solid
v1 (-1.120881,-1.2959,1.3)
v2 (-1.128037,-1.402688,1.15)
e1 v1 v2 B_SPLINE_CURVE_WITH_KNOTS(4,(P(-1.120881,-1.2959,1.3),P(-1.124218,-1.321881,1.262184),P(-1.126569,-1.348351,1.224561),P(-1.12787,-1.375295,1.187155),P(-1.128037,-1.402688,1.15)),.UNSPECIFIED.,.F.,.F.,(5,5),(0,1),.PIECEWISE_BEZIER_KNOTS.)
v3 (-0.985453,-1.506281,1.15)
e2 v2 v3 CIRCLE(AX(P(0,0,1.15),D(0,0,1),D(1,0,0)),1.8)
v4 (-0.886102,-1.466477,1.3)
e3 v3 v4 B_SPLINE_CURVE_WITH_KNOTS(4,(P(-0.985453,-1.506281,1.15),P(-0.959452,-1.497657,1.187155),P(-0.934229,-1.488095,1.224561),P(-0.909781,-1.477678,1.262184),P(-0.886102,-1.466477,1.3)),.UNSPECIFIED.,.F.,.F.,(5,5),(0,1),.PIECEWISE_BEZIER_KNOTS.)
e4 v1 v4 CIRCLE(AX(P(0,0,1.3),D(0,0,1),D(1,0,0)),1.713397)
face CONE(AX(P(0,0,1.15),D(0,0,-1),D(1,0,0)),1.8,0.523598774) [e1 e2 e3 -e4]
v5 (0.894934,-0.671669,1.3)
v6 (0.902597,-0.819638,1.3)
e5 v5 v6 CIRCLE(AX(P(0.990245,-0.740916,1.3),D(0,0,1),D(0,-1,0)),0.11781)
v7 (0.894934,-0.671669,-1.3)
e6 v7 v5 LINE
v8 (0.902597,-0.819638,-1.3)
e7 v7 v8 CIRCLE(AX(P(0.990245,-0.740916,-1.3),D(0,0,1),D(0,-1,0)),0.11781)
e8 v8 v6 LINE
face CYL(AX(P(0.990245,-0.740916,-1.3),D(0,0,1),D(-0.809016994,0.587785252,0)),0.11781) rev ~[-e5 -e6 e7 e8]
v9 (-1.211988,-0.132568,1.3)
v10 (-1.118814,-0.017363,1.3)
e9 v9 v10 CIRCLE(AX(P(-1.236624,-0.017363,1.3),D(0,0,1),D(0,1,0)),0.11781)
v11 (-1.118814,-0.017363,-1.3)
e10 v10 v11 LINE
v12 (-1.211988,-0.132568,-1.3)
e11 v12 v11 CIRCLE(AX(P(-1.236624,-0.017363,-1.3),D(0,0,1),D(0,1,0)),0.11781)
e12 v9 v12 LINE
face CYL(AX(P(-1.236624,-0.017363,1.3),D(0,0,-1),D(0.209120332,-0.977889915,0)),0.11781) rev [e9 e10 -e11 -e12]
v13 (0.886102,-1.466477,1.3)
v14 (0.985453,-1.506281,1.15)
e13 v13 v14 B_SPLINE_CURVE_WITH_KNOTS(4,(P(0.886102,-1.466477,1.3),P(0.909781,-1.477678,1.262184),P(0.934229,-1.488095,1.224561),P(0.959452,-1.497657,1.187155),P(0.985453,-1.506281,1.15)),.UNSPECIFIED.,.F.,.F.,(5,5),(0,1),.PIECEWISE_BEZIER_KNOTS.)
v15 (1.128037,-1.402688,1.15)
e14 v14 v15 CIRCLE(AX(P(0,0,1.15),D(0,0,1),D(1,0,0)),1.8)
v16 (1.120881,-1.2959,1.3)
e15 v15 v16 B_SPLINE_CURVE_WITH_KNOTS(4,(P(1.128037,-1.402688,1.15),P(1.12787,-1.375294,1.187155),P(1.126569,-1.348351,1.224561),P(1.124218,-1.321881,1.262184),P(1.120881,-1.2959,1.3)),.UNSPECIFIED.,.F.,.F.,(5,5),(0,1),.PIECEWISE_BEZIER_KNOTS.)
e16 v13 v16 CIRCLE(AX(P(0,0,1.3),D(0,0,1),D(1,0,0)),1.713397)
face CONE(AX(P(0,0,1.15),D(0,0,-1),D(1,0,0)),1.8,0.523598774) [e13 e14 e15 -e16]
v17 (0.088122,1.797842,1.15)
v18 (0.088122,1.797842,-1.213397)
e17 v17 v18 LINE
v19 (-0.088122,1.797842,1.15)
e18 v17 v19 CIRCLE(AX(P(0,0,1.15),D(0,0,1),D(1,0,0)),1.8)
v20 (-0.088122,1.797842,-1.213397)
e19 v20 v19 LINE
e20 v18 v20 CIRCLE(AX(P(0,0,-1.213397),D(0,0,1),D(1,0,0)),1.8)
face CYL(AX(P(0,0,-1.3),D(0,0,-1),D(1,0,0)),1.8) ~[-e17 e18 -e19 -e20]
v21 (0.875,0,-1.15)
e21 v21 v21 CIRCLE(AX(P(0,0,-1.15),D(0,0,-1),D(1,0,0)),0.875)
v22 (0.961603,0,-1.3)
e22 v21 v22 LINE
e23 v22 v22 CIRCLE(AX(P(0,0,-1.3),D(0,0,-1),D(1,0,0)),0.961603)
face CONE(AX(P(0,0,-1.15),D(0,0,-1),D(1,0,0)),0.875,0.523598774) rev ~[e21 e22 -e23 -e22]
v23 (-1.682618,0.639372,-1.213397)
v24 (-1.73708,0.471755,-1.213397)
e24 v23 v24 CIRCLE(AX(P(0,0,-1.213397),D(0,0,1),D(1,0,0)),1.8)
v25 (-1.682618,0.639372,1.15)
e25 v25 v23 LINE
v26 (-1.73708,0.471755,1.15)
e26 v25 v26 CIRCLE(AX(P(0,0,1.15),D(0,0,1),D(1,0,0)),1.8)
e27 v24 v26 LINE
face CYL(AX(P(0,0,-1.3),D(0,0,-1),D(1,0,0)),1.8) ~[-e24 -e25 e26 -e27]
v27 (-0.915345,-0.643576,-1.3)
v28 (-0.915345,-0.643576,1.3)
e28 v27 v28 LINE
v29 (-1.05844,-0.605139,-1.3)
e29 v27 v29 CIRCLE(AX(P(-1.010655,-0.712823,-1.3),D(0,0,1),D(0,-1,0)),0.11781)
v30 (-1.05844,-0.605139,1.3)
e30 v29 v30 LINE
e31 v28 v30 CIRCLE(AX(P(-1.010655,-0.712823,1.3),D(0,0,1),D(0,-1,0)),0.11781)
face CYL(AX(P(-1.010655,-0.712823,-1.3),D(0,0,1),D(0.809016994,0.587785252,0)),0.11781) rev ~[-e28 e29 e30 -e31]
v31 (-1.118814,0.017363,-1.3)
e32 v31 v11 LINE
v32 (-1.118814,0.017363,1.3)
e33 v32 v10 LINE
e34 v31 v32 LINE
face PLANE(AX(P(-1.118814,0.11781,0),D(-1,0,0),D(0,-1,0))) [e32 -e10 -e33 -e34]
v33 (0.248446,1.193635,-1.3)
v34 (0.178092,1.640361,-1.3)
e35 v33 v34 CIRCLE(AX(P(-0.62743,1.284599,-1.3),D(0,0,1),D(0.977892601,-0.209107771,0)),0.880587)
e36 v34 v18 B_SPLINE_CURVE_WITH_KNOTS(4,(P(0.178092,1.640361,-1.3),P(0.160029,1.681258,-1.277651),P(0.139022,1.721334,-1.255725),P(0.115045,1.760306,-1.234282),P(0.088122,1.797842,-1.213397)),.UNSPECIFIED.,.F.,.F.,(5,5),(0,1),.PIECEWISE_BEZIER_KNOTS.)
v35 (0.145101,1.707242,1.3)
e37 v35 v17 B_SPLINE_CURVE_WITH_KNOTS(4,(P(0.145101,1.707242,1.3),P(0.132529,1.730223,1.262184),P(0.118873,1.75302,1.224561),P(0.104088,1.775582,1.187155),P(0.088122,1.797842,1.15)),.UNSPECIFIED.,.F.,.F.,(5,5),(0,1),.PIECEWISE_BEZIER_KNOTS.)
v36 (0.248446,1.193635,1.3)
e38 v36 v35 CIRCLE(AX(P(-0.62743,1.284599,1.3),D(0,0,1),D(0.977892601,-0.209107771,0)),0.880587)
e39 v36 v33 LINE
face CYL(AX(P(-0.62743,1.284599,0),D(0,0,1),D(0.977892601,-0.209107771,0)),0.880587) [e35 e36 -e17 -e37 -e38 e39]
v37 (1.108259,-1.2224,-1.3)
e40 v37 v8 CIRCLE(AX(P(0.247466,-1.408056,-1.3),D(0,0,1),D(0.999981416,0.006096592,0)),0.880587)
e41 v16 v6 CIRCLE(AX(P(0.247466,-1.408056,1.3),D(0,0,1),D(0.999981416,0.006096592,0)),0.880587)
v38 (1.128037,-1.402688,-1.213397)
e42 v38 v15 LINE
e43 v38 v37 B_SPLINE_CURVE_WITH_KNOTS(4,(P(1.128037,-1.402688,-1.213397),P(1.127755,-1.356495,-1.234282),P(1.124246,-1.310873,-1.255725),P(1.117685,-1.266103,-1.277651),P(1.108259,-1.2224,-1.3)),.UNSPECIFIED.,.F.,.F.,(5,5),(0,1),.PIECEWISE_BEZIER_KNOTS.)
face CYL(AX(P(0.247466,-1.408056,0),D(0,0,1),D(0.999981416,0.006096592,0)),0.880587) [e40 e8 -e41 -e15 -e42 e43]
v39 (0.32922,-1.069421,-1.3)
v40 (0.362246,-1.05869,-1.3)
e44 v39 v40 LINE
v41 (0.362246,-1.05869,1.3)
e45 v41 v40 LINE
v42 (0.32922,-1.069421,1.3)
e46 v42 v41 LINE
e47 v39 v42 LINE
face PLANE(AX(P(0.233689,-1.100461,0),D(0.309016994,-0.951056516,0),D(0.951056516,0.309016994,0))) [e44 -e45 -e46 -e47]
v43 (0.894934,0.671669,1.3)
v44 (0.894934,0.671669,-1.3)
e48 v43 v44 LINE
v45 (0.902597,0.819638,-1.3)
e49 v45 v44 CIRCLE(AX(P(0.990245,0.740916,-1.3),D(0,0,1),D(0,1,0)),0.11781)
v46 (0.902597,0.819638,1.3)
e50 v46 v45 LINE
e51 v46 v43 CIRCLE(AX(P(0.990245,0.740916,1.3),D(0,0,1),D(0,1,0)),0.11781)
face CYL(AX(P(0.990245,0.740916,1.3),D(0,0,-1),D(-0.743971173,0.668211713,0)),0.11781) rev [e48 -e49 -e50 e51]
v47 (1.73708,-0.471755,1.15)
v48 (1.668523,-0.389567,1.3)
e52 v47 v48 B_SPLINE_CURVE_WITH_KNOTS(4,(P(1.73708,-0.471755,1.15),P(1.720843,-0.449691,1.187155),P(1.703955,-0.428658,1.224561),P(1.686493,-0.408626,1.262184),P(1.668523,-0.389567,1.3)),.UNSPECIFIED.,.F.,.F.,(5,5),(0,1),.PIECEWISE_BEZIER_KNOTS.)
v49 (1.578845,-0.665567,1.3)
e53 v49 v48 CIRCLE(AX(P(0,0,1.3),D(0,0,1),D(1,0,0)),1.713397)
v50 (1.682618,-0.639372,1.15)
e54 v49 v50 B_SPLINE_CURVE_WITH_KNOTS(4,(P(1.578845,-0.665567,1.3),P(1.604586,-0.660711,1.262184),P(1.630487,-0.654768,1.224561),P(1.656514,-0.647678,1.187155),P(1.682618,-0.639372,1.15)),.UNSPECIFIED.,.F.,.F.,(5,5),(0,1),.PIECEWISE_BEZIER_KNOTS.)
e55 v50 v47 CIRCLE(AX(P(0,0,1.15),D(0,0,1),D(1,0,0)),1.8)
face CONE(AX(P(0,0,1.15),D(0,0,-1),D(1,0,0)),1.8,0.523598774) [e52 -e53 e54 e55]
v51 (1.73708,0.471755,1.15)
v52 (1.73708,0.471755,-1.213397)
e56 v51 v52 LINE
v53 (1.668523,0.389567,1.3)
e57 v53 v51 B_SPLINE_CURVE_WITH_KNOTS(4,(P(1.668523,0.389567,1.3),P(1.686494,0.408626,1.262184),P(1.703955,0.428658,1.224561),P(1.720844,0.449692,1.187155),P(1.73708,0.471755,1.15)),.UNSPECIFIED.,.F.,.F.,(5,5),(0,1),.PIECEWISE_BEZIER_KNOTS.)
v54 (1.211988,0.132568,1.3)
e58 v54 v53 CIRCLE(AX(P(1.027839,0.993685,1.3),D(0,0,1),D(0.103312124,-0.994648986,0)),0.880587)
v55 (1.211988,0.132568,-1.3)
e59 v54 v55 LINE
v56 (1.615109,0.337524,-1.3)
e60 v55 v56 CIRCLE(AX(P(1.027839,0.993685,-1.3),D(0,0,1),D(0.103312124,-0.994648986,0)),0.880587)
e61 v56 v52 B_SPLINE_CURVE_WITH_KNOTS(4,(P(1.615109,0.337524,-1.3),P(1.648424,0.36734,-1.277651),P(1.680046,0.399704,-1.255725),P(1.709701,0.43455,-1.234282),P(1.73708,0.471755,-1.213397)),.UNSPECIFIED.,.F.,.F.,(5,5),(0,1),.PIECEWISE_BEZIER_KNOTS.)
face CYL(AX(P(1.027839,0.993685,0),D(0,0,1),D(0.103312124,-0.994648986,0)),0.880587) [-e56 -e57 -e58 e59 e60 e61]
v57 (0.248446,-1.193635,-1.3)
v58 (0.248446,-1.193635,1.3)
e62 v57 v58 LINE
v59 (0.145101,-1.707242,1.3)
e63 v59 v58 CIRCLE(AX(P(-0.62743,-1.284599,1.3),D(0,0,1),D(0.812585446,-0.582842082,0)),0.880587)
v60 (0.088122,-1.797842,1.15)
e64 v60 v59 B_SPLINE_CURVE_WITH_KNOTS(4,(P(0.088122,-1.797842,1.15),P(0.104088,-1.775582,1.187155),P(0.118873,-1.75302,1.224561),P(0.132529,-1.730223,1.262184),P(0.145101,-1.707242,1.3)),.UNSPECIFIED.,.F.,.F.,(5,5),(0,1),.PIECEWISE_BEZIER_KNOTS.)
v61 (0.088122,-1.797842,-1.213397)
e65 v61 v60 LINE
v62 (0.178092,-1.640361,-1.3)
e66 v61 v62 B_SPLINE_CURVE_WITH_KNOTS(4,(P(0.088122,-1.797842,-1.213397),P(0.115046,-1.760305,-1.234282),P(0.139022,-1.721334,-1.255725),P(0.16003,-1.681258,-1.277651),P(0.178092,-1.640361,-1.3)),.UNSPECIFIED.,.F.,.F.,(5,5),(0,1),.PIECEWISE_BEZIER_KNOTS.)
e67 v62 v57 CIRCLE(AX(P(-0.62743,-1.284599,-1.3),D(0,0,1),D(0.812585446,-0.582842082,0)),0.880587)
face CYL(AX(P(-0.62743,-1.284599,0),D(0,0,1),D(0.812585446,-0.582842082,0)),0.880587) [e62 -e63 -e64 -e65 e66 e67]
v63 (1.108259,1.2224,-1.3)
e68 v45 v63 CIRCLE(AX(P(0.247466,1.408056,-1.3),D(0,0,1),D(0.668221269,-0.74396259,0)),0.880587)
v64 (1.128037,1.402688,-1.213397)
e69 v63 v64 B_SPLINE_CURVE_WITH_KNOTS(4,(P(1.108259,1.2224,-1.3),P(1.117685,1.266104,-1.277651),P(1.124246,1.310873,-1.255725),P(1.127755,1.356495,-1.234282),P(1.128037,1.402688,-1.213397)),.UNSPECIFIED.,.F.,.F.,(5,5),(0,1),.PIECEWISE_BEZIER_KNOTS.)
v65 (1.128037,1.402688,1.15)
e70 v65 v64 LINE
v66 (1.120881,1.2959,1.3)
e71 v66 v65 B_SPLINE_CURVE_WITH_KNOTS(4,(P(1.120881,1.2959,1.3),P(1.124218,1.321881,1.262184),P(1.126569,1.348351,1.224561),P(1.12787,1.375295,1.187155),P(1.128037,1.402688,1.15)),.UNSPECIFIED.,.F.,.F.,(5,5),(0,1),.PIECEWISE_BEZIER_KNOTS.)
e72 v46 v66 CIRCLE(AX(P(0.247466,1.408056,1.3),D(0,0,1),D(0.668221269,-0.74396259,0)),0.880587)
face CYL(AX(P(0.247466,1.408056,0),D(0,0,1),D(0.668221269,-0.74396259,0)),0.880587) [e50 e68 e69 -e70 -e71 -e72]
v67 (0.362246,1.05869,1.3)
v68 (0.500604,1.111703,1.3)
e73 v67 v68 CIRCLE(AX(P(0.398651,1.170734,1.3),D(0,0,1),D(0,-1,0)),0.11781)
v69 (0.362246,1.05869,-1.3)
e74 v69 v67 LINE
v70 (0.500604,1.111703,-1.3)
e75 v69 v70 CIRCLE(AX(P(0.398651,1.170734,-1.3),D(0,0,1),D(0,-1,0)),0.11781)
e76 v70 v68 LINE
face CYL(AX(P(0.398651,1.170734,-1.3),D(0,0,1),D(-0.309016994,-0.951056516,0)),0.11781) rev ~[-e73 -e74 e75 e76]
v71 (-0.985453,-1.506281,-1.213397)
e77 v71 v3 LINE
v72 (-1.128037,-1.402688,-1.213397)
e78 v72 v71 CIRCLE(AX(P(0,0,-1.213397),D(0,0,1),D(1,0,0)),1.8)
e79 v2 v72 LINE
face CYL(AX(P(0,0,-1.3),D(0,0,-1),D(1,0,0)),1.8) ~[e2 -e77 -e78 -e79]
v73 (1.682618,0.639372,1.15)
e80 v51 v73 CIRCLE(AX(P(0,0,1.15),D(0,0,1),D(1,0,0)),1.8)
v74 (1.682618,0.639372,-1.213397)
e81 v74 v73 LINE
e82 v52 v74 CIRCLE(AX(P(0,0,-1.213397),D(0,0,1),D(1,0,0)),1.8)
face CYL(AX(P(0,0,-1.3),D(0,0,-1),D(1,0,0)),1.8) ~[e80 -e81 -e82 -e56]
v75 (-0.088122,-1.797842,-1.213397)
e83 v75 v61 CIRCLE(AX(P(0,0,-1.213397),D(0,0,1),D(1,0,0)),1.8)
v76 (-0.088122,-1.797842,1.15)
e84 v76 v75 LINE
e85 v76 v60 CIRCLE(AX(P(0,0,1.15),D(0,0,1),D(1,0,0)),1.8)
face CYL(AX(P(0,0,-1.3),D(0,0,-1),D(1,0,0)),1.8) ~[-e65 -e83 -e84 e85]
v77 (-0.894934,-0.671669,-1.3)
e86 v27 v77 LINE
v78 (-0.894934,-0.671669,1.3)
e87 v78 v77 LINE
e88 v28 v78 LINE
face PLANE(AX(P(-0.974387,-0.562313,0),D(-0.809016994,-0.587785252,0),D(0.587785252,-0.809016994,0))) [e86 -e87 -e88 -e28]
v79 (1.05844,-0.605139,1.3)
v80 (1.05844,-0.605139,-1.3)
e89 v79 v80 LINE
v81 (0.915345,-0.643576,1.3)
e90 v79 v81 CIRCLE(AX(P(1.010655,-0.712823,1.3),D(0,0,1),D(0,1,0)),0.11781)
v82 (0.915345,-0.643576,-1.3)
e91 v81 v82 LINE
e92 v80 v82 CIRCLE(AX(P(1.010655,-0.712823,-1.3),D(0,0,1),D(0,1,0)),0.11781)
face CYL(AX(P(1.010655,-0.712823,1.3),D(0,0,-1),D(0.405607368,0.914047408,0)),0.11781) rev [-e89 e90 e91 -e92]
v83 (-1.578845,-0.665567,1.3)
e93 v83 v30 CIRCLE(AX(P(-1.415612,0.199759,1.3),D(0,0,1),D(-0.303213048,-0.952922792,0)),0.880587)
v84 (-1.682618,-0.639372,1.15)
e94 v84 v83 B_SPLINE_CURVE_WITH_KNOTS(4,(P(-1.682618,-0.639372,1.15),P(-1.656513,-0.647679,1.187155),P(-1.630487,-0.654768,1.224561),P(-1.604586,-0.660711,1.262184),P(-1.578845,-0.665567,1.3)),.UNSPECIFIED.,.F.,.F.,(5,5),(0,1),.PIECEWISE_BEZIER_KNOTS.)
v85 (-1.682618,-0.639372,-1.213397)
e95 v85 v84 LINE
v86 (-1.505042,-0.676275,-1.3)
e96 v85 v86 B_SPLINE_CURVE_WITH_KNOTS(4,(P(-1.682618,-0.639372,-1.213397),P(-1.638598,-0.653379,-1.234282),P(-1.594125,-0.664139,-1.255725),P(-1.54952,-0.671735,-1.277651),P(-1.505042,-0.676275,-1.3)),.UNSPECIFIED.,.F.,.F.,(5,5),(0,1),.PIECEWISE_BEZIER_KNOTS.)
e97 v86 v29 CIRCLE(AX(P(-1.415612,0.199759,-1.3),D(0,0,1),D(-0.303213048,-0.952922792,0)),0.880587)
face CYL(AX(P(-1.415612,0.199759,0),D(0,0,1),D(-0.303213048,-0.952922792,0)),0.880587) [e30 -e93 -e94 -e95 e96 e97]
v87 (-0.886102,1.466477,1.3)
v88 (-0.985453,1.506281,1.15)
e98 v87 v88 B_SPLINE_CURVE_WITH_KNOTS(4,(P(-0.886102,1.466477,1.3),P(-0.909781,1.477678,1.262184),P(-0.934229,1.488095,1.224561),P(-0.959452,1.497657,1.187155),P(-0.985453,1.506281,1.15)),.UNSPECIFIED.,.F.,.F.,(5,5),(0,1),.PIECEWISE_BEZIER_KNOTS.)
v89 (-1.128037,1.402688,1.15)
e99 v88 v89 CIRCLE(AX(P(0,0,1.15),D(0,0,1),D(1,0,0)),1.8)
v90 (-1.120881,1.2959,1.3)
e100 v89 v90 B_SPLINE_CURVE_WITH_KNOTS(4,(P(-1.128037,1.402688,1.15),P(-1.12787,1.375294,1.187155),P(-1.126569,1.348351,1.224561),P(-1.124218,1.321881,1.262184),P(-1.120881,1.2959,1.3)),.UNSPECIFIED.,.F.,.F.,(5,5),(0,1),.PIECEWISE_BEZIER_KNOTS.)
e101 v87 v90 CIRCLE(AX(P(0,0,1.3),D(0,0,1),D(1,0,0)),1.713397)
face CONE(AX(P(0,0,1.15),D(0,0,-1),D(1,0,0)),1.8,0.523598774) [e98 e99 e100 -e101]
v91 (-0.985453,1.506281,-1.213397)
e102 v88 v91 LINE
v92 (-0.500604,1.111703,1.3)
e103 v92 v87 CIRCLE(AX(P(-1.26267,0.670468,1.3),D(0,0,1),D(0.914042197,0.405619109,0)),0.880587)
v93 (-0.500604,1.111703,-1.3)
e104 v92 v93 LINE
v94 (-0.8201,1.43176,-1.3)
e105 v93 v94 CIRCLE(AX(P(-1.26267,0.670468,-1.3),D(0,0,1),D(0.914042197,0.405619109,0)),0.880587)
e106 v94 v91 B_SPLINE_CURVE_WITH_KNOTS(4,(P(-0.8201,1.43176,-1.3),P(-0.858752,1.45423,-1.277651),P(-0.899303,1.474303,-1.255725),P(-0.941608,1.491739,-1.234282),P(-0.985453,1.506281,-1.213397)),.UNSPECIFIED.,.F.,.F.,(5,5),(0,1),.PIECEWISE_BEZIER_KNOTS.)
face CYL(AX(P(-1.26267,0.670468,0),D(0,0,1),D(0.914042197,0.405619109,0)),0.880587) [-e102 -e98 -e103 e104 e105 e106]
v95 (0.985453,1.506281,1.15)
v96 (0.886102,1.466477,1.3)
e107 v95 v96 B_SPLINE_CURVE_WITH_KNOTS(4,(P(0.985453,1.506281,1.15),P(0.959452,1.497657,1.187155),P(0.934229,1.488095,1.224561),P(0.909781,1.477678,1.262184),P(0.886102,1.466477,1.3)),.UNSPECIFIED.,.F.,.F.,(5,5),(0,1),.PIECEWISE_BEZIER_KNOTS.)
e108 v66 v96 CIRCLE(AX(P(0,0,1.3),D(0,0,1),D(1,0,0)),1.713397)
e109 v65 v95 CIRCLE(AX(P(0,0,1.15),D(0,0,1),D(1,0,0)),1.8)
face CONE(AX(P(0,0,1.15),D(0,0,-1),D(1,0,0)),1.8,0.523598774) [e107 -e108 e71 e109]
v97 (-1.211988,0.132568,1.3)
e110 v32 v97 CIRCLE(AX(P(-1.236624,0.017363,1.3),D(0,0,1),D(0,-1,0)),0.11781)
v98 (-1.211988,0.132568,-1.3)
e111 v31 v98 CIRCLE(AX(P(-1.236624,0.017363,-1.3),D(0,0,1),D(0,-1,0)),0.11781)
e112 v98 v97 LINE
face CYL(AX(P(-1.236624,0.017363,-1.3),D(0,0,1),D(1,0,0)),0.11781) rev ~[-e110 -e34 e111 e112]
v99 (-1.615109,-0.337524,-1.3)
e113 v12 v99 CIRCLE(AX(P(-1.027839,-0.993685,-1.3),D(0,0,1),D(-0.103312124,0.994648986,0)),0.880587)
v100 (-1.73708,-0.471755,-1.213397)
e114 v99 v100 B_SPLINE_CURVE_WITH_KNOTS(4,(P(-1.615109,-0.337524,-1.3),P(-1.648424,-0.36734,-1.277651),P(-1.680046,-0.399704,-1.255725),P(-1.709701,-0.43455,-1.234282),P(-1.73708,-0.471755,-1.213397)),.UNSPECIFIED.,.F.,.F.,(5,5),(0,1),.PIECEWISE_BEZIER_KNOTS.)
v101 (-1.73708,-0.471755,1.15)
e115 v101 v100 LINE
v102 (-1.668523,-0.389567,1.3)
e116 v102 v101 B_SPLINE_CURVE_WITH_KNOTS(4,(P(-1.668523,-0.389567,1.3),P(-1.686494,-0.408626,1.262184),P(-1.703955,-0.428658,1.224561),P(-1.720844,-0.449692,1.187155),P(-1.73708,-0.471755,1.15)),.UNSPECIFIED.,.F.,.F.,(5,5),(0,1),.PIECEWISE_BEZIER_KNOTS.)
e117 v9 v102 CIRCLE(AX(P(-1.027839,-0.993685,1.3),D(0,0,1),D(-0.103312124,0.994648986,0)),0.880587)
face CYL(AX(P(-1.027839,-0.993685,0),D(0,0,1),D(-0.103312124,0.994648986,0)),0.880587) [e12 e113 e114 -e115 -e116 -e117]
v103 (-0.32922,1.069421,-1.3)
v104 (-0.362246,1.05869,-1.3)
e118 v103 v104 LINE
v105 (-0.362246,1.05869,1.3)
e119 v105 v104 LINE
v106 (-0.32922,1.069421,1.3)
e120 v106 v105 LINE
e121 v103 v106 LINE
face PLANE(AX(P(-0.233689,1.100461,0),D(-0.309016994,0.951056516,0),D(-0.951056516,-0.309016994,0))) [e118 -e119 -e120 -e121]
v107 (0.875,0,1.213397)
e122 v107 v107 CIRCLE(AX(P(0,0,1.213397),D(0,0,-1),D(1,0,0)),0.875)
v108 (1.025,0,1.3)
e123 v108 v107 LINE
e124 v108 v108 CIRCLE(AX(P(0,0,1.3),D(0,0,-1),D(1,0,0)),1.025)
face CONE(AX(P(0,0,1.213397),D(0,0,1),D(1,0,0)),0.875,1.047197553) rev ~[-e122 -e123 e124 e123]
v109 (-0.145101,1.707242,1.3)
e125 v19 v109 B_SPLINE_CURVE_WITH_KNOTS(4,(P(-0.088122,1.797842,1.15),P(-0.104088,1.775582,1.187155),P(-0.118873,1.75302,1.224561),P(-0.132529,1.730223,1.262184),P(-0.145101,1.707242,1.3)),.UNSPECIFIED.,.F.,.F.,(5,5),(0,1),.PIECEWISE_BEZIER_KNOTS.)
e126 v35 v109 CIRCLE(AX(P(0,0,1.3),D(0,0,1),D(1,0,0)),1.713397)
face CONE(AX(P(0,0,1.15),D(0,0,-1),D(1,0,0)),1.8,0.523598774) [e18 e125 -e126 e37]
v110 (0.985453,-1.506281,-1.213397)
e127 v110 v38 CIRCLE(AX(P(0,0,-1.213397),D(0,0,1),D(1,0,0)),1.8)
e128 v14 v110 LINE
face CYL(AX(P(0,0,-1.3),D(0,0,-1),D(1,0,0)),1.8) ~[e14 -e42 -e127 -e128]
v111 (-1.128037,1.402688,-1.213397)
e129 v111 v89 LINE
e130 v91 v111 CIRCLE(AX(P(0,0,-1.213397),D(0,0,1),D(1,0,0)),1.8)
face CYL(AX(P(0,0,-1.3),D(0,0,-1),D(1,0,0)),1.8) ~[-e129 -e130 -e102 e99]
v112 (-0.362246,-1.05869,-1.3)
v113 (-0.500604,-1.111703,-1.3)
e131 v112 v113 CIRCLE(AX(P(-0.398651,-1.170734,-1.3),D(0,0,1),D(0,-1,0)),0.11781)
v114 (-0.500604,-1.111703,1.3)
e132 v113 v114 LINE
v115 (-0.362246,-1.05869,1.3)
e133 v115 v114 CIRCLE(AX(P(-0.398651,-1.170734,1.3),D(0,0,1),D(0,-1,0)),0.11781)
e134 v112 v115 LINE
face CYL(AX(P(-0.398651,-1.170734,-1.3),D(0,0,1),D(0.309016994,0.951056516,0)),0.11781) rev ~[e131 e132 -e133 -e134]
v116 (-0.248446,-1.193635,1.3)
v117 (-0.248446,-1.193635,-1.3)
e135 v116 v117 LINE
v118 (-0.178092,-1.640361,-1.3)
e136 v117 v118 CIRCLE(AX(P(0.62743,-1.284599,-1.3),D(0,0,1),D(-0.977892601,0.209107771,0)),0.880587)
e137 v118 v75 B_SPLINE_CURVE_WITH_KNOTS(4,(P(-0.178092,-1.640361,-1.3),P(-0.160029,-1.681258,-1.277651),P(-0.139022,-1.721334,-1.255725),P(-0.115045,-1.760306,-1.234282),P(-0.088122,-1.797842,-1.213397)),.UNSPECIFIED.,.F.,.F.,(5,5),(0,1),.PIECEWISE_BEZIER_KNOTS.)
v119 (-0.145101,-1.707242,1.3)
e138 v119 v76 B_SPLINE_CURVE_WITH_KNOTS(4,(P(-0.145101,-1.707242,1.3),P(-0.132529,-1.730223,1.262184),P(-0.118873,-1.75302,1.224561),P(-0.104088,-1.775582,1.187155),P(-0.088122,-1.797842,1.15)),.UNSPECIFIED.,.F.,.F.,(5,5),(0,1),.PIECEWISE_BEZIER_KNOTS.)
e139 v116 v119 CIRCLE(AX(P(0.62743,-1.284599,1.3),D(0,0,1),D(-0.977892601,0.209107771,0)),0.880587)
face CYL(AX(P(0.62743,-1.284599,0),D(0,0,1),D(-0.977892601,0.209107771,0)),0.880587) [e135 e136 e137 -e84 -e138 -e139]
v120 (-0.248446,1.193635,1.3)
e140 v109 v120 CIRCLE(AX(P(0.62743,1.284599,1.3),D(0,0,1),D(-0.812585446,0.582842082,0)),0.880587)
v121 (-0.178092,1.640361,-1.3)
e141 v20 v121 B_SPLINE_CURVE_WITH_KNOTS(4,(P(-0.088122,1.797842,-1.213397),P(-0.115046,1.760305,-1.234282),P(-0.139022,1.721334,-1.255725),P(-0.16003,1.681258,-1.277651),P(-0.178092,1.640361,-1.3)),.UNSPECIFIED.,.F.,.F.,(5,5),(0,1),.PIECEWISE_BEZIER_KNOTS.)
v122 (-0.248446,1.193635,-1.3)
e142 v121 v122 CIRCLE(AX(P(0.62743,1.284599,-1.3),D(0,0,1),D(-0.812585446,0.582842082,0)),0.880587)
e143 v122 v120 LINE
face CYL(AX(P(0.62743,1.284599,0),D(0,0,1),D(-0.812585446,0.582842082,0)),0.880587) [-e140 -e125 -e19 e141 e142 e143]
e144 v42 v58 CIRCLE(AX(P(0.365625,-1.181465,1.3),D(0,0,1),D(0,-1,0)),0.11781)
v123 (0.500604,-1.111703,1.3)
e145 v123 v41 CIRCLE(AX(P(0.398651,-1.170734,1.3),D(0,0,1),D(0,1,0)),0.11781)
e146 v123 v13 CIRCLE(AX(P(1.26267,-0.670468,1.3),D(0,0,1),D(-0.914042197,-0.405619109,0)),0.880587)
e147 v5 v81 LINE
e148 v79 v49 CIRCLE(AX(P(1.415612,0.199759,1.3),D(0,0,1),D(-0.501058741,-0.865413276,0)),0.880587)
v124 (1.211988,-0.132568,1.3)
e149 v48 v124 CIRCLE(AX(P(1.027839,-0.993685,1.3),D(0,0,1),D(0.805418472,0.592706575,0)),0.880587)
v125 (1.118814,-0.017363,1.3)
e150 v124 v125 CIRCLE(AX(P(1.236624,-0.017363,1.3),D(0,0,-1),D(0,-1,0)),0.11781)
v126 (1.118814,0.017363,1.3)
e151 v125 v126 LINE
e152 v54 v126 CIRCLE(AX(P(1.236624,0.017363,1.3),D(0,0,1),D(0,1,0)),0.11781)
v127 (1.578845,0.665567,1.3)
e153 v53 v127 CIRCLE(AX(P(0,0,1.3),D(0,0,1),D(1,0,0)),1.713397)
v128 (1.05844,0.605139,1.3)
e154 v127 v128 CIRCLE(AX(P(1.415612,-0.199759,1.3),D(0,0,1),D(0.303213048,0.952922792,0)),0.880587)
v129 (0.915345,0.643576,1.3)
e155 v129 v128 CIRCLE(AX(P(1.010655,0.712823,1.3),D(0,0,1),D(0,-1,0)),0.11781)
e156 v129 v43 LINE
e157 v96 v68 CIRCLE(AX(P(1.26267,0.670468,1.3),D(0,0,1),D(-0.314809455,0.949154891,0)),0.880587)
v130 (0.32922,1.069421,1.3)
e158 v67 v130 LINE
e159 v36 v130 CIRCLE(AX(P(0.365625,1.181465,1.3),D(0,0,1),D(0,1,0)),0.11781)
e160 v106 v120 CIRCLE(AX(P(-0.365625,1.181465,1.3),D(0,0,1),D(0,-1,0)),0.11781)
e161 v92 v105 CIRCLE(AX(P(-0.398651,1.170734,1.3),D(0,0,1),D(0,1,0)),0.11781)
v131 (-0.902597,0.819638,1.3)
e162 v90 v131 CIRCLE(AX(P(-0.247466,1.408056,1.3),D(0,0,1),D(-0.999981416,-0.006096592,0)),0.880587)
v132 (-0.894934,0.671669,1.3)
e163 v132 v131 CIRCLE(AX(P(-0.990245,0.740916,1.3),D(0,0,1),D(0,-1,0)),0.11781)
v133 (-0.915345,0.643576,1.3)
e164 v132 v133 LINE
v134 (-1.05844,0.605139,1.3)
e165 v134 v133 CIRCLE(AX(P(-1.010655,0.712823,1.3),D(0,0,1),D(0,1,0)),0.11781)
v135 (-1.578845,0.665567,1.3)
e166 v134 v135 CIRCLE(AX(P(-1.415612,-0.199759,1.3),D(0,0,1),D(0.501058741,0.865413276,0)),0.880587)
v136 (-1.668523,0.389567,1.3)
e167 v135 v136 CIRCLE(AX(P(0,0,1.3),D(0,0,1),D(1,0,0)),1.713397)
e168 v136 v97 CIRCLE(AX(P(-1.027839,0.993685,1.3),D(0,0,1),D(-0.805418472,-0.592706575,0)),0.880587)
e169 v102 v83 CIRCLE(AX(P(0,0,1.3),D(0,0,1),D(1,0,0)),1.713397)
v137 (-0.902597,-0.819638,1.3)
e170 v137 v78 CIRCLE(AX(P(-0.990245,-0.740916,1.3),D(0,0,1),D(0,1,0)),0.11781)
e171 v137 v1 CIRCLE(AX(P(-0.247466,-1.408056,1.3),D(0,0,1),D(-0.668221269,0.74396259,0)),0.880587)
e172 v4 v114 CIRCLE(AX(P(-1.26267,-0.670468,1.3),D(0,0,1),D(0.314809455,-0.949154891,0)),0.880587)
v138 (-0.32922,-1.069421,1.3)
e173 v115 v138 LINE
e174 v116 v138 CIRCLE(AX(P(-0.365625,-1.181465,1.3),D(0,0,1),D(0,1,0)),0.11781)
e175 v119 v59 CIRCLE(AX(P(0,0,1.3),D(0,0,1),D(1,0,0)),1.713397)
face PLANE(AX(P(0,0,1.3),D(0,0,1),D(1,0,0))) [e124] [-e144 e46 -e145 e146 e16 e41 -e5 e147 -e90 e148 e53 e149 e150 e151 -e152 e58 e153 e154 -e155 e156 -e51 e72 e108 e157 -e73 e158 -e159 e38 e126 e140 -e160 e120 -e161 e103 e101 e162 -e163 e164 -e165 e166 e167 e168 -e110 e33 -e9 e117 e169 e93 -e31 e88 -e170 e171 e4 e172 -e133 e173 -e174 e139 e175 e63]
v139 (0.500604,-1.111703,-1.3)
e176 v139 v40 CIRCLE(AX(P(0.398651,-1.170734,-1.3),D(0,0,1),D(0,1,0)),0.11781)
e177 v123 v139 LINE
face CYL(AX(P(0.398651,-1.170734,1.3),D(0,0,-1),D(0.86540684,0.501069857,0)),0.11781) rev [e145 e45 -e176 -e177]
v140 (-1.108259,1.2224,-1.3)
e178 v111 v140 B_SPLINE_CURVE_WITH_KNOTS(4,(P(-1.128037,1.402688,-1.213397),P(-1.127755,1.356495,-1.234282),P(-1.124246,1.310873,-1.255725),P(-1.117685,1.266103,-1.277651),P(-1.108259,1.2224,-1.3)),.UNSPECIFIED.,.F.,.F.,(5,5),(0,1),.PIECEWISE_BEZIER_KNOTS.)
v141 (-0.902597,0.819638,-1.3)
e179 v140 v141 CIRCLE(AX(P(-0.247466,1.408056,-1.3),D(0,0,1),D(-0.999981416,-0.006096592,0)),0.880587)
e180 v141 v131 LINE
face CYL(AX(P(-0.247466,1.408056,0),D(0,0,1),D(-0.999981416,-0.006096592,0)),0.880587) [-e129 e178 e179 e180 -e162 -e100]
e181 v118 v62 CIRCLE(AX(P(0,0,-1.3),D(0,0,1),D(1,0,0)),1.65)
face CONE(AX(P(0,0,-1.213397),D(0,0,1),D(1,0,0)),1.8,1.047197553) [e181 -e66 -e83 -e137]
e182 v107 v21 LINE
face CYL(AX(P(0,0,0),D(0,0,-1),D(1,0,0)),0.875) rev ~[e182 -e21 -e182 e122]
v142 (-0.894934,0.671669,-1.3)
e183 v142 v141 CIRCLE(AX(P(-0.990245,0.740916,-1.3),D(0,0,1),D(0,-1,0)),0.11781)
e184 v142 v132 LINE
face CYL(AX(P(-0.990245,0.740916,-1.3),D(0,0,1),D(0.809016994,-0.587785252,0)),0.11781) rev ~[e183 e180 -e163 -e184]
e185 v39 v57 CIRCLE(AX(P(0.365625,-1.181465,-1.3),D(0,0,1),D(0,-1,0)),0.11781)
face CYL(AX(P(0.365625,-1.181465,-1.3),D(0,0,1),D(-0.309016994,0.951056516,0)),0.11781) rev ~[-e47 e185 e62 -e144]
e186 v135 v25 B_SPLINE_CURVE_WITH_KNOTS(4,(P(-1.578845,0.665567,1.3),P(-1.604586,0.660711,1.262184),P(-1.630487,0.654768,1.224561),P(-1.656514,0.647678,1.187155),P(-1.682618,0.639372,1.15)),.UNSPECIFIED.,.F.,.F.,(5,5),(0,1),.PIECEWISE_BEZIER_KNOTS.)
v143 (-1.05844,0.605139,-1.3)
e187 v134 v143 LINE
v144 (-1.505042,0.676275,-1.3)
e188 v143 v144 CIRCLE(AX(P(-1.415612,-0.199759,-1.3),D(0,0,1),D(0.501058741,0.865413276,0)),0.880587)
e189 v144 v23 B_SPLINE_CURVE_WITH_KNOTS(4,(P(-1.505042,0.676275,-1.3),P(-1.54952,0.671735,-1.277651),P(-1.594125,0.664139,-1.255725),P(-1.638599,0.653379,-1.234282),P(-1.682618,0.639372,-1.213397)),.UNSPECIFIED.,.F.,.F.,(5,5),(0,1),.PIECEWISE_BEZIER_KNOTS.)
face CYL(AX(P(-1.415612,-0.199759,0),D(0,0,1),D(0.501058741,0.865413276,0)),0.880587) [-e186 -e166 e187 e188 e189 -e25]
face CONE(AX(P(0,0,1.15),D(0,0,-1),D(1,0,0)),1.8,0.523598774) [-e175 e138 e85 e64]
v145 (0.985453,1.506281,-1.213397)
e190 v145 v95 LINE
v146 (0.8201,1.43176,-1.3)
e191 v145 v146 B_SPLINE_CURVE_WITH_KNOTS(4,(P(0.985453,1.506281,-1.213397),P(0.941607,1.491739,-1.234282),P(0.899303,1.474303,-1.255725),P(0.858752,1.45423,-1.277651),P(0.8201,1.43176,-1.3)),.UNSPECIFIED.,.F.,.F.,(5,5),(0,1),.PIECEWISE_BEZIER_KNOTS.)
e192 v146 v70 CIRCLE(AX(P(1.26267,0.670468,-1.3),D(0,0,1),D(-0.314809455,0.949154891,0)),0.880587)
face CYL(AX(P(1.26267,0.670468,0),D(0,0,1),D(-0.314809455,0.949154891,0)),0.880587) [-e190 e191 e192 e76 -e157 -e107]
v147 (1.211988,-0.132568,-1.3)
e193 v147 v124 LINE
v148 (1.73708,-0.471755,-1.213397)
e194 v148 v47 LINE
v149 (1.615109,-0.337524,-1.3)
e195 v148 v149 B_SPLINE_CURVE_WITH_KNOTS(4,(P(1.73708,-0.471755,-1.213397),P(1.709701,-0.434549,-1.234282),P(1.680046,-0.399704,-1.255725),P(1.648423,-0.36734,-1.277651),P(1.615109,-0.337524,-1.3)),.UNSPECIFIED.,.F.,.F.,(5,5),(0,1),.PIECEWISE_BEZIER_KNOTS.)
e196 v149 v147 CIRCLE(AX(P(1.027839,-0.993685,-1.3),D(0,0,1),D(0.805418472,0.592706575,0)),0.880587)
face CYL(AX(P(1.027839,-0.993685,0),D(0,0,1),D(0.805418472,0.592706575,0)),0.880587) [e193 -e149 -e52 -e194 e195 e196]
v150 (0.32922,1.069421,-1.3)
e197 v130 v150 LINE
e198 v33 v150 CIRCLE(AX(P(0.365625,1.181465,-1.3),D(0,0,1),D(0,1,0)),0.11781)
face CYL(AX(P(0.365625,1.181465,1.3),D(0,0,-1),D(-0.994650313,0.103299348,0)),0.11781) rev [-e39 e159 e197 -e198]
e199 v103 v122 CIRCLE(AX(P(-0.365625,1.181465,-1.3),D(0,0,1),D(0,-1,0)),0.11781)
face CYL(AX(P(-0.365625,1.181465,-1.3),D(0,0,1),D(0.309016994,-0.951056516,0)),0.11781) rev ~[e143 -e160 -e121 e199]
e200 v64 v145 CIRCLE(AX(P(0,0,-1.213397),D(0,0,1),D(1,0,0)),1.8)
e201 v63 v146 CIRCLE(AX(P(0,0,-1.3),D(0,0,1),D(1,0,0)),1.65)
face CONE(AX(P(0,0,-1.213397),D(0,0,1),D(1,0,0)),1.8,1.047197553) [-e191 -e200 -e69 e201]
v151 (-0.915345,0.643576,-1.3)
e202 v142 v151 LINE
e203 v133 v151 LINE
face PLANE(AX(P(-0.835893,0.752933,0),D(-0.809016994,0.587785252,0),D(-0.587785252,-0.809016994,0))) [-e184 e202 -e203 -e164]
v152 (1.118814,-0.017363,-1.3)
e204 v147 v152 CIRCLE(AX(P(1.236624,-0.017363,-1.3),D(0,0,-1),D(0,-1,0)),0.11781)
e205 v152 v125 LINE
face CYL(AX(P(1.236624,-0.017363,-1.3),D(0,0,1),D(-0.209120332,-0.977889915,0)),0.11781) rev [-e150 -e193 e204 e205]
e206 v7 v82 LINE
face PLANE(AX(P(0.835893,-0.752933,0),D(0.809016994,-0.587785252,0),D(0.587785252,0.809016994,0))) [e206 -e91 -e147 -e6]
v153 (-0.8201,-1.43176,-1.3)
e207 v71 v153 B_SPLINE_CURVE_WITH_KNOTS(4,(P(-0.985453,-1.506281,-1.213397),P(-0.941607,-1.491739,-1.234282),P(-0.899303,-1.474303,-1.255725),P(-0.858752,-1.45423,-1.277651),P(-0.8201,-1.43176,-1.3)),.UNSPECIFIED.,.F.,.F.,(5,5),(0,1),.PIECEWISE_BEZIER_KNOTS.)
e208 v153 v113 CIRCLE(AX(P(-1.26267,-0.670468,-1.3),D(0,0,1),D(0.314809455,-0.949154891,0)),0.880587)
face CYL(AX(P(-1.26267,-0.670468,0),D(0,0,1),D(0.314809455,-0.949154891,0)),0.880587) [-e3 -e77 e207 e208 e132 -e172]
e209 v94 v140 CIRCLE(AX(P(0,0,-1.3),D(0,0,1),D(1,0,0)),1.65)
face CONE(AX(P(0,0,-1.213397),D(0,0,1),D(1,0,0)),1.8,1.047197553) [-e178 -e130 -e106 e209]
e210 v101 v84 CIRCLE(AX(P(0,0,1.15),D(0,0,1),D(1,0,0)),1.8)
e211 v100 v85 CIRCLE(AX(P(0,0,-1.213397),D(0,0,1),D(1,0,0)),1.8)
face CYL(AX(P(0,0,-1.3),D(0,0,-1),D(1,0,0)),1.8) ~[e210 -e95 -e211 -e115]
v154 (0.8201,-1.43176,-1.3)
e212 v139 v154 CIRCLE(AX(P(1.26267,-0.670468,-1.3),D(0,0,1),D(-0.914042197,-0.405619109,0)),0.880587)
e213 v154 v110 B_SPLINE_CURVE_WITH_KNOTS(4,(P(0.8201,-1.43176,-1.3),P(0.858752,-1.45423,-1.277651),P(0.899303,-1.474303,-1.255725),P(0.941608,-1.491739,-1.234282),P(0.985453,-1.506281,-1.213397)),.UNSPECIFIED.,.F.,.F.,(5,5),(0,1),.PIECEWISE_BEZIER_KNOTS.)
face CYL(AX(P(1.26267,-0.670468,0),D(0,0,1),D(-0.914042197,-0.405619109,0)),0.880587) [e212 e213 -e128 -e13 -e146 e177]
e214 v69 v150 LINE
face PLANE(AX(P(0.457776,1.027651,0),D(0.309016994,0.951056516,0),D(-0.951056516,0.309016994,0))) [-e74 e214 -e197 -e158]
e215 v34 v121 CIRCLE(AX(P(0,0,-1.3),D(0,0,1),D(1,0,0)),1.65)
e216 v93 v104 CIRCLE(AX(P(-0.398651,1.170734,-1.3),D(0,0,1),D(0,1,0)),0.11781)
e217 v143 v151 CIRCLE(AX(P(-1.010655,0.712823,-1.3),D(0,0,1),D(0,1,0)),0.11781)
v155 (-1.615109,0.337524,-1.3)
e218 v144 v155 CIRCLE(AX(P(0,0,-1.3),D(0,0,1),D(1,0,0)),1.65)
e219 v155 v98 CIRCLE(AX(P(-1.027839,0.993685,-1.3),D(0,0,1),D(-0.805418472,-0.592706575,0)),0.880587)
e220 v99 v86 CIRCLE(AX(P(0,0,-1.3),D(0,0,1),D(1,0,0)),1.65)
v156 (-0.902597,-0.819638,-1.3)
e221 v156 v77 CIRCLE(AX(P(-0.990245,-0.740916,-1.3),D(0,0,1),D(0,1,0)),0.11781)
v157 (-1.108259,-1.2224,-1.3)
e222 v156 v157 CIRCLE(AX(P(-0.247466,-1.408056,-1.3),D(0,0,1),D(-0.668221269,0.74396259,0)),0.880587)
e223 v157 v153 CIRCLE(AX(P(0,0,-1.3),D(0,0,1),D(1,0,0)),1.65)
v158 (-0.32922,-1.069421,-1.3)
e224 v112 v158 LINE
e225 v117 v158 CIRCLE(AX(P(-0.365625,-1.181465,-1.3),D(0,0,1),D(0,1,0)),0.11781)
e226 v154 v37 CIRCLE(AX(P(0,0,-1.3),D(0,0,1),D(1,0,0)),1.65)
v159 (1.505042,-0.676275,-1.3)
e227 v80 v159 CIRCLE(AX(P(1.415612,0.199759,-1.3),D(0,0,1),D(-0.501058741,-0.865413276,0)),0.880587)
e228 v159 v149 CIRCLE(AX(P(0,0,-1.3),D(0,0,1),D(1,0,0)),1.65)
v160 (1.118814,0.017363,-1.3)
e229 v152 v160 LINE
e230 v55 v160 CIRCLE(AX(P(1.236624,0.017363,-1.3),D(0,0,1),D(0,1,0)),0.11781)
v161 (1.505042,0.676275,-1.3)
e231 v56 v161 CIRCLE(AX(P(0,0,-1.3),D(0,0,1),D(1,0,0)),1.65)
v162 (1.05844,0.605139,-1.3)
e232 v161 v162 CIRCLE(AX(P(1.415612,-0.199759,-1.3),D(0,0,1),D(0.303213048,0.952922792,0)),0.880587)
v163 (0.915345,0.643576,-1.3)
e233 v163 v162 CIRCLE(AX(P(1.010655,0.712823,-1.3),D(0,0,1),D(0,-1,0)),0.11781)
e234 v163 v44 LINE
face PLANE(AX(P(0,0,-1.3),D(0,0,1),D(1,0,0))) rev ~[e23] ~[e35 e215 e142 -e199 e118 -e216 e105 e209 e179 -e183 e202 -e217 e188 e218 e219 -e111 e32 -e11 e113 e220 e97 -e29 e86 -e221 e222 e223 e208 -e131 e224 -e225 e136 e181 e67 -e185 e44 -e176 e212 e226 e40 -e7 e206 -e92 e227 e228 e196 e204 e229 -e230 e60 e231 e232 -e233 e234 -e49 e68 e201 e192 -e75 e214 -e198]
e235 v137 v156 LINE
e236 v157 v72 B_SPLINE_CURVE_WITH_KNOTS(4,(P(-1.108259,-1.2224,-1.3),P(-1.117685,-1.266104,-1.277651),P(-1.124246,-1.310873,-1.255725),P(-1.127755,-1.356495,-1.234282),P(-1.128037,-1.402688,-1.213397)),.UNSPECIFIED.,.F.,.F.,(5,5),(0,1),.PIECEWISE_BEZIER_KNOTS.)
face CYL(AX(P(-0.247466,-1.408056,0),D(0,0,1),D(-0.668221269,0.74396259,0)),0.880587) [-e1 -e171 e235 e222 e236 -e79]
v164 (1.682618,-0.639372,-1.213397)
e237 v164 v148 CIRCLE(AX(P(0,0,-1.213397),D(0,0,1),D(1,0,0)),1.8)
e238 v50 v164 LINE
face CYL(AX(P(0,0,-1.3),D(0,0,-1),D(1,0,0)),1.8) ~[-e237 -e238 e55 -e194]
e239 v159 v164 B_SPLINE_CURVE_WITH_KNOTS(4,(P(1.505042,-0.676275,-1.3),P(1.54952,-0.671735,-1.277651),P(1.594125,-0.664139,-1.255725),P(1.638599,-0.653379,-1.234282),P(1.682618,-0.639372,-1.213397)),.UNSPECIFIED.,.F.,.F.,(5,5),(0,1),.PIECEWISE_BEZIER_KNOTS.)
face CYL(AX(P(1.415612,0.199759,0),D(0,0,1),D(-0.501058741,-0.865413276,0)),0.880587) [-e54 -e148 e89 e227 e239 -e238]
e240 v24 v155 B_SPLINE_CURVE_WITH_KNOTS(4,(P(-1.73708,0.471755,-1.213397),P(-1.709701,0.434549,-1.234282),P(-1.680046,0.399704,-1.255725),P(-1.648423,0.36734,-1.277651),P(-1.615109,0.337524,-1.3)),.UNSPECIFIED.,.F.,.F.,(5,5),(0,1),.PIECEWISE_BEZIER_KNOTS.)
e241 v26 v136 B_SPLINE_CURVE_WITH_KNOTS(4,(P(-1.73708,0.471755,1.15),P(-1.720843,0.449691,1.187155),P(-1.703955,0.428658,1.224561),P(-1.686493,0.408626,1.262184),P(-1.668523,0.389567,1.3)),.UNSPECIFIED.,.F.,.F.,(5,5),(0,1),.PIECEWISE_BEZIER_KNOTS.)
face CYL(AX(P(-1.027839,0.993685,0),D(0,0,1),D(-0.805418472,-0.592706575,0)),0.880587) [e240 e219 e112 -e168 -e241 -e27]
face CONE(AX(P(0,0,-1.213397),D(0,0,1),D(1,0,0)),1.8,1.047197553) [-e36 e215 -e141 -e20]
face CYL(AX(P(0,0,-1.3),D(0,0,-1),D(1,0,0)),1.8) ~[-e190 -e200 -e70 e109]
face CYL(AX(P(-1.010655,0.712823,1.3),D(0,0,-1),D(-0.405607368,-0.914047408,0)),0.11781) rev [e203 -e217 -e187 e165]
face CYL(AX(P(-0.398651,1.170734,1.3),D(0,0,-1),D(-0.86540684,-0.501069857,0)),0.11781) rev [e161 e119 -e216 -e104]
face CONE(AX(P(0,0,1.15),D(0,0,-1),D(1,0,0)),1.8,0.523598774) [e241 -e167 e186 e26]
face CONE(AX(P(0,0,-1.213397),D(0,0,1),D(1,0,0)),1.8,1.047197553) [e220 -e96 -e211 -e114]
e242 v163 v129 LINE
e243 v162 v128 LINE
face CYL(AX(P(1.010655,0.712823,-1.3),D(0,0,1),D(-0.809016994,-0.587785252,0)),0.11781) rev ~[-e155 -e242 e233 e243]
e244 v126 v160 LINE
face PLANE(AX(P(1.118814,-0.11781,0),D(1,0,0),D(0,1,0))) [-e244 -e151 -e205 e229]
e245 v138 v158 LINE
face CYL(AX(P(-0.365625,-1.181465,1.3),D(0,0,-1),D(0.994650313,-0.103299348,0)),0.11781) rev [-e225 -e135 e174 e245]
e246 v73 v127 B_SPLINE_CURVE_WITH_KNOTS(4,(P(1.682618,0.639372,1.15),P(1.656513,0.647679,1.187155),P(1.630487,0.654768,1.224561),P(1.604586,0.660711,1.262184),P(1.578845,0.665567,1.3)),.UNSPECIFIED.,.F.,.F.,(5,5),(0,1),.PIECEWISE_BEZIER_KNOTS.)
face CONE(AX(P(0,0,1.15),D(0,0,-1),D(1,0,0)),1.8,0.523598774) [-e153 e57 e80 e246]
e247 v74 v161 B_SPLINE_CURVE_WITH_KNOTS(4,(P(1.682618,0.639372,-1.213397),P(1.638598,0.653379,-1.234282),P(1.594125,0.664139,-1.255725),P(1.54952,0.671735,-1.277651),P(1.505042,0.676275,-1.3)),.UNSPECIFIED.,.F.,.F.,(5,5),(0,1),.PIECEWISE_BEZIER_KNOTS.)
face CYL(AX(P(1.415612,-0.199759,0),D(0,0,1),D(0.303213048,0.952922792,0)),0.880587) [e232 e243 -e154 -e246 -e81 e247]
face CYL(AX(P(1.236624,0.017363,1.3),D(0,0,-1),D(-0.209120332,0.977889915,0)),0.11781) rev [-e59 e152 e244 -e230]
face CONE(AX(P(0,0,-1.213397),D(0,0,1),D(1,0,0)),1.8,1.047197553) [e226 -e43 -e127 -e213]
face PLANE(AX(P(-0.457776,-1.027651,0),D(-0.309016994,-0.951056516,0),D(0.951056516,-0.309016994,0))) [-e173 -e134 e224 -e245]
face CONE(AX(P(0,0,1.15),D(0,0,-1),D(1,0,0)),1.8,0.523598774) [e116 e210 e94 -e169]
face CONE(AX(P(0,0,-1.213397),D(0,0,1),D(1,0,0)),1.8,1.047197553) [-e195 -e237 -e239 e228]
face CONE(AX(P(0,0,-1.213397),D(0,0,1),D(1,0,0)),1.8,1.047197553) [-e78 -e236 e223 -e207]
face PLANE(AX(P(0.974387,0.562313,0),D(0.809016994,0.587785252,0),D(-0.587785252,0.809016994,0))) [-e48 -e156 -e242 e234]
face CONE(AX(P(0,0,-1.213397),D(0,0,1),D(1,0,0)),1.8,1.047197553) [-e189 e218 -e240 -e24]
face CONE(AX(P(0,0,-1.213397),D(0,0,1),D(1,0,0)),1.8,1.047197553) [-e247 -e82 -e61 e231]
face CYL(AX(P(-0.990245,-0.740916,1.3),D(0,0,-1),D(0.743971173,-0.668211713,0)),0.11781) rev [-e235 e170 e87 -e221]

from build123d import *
from OCP.BRepFilletAPI import BRepFilletAPI_MakeChamfer

# Parameters (mm, degrees)
BOSS_EXTRUDE1_DEPTH      = 1.3
BOSS_EXTRUDE1_DEPTH_BACK = 1.3
SKETCH3_R                = 1.8
SKETCH5_W                = 2.6
SKETCH5_H                = 0.875
CHAMFER1_SIZE            = 0.15
CHAMFER1_SIZE2           = 0.08660254
CUT_EXTRUDE1_DEPTH       = 3.858321186
FILLET1_R                = 0.117809725
CIRPATTERN1_COUNT        = 10
FILLET1_OF_CIRPATTERN1_R = 0.117809725


with BuildPart() as part:
    # Sketch3 → Boss-Extrude1 (new, two sides: drawn at the far end of the back side and taken through both)
    with BuildSketch(Plane.XY.offset(-BOSS_EXTRUDE1_DEPTH_BACK)):
        Circle(SKETCH3_R)
    extrude(amount=BOSS_EXTRUDE1_DEPTH + BOSS_EXTRUDE1_DEPTH_BACK)

    # Sketch5 → Cut-Revolve1 (revolve, cut)
    with BuildSketch(Plane(origin=(0, 0, 0), x_dir=(0, 0, -1), z_dir=(1, 0, 0)), mode=Mode.PRIVATE) as cut_revolve1_sk:
        with Locations((0, 0.4375)):
            Rectangle(SKETCH5_W, SKETCH5_H)
    revolve(cut_revolve1_sk.sketch.rotate(Axis((0, 0, 5.997700685), (0, 0, -1)), 90), axis=Axis((0, 0, 5.997700685), (0, 0, -1)), mode=Mode.SUBTRACT)

    # Chamfer1: one chamfer whose edges measure the first distance from different faces: ONE call of the kernel's chamfer builder (chamfer() names one face for all edges)
    chamfer1_edges_1 = [part.edges().sort_by_distance(p)[0] for p in [
        (-1.8, 0, -1.3),
    ]]
    chamfer1_side_1 = [part.faces().sort_by_distance(p)[0] for p in [
        (-1.749088312, 0, -1.3),
    ]]
    chamfer1_edges_2 = [part.edges().sort_by_distance(p)[0] for p in [
        (-1.8, 0, 1.3),
    ]]
    chamfer1_side_2 = [part.faces().sort_by_distance(p)[0] for p in [
        (-1.8, 0, 0.65),
    ]]
    chamfer1_edges_3 = [part.edges().sort_by_distance(p)[0] for p in [
        (-0.875, 0, 1.3),
    ]]
    chamfer1_side_3 = [part.faces().sort_by_distance(p)[0] for p in [
        (-1.749088312, 0, 1.3),
    ]]
    chamfer1_edges_4 = [part.edges().sort_by_distance(p)[0] for p in [
        (-0.875, 0, -1.3),
    ]]
    chamfer1_side_4 = [part.faces().sort_by_distance(p)[0] for p in [
        (-0.875, 0, 0),
    ]]
    chamfer1 = BRepFilletAPI_MakeChamfer(part.part.solid().wrapped)
    for e in chamfer1_edges_1:
        chamfer1.Add(CHAMFER1_SIZE, CHAMFER1_SIZE2, e.wrapped, chamfer1_side_1[0].wrapped)  # the first distance lies on this face
    for e in chamfer1_edges_2:
        chamfer1.Add(CHAMFER1_SIZE, CHAMFER1_SIZE2, e.wrapped, chamfer1_side_2[0].wrapped)  # the first distance lies on this face
    for e in chamfer1_edges_3:
        chamfer1.Add(CHAMFER1_SIZE, CHAMFER1_SIZE2, e.wrapped, chamfer1_side_3[0].wrapped)  # the first distance lies on this face
    for e in chamfer1_edges_4:
        chamfer1.Add(CHAMFER1_SIZE, CHAMFER1_SIZE2, e.wrapped, chamfer1_side_4[0].wrapped)  # the first distance lies on this face
    add(Compound.cast(chamfer1.Shape()), mode=Mode.REPLACE)

    # Sketch4 → Cut-Extrude1 (cut, symmetric)
    with BuildSketch(Plane.XY):
        with BuildLine():
            Line((1.118814493, -0.117809725), (1.118814493, 0.117809725))
            ThreePointArc((1.118814493, 0.117809725), (1.465338676, 0.229467686), (1.737080105, 0.471754923))
            ThreePointArc((1.737080105, 0.471754923), (1.8, 0), (1.737080105, -0.471754923))
            ThreePointArc((1.737080105, -0.471754923), (1.465338676, -0.229467686), (1.118814493, -0.117809725))
        make_face()
    cut_extrude1 = extrude(amount=CUT_EXTRUDE1_DEPTH, both=True, mode=Mode.SUBTRACT)

    # Fillet1
    fillet1_edges = [part.edges().sort_by_distance(p)[0] for p in [
        (1.118814493, 0.117809725, 0),
        (1.118814493, -0.117809725, 0),
    ]]
    fillet(fillet1_edges, radius=FILLET1_R)

    # CirPattern1: Cut-Extrude1 ×10 about axis
    cirpattern1_axis = Axis((0, 0, 0), (0, 0, 1))
    for i in range(1, CIRPATTERN1_COUNT):
        add(cut_extrude1.rotate(cirpattern1_axis, i * 360 / CIRPATTERN1_COUNT), mode=Mode.SUBTRACT)

    # Fillet1 of CirPattern1
    fillet1_of_cirpattern1_edges = [part.edges().sort_by_distance(p)[0] for p in [
        (0.835893119, 0.752932728, 0),
        (0.974386757, 0.56231259, 0),
        (0.233688986, 1.100461021, 0),
        (0.457776398, 1.027650607, 0),
        (-0.457776398, 1.027650607, 0),
        (-0.233688986, 1.100461021, 0),
        (-0.974386757, 0.56231259, 0),
        (-0.835893119, 0.752932728, 0),
        (-1.118814493, -0.117809725, 0),
        (-1.118814493, 0.117809725, 0),
        (-0.835893119, -0.752932728, 0),
        (-0.974386757, -0.56231259, 0),
        (-0.233688986, -1.100461021, 0),
        (-0.457776398, -1.027650607, 0),
        (0.457776398, -1.027650607, 0),
        (0.233688986, -1.100461021, 0),
        (0.974386757, -0.56231259, 0),
        (0.835893119, -0.752932728, 0),
    ]]
    fillet(fillet1_of_cirpattern1_edges, radius=FILLET1_OF_CIRPATTERN1_R)


solid = part.part
